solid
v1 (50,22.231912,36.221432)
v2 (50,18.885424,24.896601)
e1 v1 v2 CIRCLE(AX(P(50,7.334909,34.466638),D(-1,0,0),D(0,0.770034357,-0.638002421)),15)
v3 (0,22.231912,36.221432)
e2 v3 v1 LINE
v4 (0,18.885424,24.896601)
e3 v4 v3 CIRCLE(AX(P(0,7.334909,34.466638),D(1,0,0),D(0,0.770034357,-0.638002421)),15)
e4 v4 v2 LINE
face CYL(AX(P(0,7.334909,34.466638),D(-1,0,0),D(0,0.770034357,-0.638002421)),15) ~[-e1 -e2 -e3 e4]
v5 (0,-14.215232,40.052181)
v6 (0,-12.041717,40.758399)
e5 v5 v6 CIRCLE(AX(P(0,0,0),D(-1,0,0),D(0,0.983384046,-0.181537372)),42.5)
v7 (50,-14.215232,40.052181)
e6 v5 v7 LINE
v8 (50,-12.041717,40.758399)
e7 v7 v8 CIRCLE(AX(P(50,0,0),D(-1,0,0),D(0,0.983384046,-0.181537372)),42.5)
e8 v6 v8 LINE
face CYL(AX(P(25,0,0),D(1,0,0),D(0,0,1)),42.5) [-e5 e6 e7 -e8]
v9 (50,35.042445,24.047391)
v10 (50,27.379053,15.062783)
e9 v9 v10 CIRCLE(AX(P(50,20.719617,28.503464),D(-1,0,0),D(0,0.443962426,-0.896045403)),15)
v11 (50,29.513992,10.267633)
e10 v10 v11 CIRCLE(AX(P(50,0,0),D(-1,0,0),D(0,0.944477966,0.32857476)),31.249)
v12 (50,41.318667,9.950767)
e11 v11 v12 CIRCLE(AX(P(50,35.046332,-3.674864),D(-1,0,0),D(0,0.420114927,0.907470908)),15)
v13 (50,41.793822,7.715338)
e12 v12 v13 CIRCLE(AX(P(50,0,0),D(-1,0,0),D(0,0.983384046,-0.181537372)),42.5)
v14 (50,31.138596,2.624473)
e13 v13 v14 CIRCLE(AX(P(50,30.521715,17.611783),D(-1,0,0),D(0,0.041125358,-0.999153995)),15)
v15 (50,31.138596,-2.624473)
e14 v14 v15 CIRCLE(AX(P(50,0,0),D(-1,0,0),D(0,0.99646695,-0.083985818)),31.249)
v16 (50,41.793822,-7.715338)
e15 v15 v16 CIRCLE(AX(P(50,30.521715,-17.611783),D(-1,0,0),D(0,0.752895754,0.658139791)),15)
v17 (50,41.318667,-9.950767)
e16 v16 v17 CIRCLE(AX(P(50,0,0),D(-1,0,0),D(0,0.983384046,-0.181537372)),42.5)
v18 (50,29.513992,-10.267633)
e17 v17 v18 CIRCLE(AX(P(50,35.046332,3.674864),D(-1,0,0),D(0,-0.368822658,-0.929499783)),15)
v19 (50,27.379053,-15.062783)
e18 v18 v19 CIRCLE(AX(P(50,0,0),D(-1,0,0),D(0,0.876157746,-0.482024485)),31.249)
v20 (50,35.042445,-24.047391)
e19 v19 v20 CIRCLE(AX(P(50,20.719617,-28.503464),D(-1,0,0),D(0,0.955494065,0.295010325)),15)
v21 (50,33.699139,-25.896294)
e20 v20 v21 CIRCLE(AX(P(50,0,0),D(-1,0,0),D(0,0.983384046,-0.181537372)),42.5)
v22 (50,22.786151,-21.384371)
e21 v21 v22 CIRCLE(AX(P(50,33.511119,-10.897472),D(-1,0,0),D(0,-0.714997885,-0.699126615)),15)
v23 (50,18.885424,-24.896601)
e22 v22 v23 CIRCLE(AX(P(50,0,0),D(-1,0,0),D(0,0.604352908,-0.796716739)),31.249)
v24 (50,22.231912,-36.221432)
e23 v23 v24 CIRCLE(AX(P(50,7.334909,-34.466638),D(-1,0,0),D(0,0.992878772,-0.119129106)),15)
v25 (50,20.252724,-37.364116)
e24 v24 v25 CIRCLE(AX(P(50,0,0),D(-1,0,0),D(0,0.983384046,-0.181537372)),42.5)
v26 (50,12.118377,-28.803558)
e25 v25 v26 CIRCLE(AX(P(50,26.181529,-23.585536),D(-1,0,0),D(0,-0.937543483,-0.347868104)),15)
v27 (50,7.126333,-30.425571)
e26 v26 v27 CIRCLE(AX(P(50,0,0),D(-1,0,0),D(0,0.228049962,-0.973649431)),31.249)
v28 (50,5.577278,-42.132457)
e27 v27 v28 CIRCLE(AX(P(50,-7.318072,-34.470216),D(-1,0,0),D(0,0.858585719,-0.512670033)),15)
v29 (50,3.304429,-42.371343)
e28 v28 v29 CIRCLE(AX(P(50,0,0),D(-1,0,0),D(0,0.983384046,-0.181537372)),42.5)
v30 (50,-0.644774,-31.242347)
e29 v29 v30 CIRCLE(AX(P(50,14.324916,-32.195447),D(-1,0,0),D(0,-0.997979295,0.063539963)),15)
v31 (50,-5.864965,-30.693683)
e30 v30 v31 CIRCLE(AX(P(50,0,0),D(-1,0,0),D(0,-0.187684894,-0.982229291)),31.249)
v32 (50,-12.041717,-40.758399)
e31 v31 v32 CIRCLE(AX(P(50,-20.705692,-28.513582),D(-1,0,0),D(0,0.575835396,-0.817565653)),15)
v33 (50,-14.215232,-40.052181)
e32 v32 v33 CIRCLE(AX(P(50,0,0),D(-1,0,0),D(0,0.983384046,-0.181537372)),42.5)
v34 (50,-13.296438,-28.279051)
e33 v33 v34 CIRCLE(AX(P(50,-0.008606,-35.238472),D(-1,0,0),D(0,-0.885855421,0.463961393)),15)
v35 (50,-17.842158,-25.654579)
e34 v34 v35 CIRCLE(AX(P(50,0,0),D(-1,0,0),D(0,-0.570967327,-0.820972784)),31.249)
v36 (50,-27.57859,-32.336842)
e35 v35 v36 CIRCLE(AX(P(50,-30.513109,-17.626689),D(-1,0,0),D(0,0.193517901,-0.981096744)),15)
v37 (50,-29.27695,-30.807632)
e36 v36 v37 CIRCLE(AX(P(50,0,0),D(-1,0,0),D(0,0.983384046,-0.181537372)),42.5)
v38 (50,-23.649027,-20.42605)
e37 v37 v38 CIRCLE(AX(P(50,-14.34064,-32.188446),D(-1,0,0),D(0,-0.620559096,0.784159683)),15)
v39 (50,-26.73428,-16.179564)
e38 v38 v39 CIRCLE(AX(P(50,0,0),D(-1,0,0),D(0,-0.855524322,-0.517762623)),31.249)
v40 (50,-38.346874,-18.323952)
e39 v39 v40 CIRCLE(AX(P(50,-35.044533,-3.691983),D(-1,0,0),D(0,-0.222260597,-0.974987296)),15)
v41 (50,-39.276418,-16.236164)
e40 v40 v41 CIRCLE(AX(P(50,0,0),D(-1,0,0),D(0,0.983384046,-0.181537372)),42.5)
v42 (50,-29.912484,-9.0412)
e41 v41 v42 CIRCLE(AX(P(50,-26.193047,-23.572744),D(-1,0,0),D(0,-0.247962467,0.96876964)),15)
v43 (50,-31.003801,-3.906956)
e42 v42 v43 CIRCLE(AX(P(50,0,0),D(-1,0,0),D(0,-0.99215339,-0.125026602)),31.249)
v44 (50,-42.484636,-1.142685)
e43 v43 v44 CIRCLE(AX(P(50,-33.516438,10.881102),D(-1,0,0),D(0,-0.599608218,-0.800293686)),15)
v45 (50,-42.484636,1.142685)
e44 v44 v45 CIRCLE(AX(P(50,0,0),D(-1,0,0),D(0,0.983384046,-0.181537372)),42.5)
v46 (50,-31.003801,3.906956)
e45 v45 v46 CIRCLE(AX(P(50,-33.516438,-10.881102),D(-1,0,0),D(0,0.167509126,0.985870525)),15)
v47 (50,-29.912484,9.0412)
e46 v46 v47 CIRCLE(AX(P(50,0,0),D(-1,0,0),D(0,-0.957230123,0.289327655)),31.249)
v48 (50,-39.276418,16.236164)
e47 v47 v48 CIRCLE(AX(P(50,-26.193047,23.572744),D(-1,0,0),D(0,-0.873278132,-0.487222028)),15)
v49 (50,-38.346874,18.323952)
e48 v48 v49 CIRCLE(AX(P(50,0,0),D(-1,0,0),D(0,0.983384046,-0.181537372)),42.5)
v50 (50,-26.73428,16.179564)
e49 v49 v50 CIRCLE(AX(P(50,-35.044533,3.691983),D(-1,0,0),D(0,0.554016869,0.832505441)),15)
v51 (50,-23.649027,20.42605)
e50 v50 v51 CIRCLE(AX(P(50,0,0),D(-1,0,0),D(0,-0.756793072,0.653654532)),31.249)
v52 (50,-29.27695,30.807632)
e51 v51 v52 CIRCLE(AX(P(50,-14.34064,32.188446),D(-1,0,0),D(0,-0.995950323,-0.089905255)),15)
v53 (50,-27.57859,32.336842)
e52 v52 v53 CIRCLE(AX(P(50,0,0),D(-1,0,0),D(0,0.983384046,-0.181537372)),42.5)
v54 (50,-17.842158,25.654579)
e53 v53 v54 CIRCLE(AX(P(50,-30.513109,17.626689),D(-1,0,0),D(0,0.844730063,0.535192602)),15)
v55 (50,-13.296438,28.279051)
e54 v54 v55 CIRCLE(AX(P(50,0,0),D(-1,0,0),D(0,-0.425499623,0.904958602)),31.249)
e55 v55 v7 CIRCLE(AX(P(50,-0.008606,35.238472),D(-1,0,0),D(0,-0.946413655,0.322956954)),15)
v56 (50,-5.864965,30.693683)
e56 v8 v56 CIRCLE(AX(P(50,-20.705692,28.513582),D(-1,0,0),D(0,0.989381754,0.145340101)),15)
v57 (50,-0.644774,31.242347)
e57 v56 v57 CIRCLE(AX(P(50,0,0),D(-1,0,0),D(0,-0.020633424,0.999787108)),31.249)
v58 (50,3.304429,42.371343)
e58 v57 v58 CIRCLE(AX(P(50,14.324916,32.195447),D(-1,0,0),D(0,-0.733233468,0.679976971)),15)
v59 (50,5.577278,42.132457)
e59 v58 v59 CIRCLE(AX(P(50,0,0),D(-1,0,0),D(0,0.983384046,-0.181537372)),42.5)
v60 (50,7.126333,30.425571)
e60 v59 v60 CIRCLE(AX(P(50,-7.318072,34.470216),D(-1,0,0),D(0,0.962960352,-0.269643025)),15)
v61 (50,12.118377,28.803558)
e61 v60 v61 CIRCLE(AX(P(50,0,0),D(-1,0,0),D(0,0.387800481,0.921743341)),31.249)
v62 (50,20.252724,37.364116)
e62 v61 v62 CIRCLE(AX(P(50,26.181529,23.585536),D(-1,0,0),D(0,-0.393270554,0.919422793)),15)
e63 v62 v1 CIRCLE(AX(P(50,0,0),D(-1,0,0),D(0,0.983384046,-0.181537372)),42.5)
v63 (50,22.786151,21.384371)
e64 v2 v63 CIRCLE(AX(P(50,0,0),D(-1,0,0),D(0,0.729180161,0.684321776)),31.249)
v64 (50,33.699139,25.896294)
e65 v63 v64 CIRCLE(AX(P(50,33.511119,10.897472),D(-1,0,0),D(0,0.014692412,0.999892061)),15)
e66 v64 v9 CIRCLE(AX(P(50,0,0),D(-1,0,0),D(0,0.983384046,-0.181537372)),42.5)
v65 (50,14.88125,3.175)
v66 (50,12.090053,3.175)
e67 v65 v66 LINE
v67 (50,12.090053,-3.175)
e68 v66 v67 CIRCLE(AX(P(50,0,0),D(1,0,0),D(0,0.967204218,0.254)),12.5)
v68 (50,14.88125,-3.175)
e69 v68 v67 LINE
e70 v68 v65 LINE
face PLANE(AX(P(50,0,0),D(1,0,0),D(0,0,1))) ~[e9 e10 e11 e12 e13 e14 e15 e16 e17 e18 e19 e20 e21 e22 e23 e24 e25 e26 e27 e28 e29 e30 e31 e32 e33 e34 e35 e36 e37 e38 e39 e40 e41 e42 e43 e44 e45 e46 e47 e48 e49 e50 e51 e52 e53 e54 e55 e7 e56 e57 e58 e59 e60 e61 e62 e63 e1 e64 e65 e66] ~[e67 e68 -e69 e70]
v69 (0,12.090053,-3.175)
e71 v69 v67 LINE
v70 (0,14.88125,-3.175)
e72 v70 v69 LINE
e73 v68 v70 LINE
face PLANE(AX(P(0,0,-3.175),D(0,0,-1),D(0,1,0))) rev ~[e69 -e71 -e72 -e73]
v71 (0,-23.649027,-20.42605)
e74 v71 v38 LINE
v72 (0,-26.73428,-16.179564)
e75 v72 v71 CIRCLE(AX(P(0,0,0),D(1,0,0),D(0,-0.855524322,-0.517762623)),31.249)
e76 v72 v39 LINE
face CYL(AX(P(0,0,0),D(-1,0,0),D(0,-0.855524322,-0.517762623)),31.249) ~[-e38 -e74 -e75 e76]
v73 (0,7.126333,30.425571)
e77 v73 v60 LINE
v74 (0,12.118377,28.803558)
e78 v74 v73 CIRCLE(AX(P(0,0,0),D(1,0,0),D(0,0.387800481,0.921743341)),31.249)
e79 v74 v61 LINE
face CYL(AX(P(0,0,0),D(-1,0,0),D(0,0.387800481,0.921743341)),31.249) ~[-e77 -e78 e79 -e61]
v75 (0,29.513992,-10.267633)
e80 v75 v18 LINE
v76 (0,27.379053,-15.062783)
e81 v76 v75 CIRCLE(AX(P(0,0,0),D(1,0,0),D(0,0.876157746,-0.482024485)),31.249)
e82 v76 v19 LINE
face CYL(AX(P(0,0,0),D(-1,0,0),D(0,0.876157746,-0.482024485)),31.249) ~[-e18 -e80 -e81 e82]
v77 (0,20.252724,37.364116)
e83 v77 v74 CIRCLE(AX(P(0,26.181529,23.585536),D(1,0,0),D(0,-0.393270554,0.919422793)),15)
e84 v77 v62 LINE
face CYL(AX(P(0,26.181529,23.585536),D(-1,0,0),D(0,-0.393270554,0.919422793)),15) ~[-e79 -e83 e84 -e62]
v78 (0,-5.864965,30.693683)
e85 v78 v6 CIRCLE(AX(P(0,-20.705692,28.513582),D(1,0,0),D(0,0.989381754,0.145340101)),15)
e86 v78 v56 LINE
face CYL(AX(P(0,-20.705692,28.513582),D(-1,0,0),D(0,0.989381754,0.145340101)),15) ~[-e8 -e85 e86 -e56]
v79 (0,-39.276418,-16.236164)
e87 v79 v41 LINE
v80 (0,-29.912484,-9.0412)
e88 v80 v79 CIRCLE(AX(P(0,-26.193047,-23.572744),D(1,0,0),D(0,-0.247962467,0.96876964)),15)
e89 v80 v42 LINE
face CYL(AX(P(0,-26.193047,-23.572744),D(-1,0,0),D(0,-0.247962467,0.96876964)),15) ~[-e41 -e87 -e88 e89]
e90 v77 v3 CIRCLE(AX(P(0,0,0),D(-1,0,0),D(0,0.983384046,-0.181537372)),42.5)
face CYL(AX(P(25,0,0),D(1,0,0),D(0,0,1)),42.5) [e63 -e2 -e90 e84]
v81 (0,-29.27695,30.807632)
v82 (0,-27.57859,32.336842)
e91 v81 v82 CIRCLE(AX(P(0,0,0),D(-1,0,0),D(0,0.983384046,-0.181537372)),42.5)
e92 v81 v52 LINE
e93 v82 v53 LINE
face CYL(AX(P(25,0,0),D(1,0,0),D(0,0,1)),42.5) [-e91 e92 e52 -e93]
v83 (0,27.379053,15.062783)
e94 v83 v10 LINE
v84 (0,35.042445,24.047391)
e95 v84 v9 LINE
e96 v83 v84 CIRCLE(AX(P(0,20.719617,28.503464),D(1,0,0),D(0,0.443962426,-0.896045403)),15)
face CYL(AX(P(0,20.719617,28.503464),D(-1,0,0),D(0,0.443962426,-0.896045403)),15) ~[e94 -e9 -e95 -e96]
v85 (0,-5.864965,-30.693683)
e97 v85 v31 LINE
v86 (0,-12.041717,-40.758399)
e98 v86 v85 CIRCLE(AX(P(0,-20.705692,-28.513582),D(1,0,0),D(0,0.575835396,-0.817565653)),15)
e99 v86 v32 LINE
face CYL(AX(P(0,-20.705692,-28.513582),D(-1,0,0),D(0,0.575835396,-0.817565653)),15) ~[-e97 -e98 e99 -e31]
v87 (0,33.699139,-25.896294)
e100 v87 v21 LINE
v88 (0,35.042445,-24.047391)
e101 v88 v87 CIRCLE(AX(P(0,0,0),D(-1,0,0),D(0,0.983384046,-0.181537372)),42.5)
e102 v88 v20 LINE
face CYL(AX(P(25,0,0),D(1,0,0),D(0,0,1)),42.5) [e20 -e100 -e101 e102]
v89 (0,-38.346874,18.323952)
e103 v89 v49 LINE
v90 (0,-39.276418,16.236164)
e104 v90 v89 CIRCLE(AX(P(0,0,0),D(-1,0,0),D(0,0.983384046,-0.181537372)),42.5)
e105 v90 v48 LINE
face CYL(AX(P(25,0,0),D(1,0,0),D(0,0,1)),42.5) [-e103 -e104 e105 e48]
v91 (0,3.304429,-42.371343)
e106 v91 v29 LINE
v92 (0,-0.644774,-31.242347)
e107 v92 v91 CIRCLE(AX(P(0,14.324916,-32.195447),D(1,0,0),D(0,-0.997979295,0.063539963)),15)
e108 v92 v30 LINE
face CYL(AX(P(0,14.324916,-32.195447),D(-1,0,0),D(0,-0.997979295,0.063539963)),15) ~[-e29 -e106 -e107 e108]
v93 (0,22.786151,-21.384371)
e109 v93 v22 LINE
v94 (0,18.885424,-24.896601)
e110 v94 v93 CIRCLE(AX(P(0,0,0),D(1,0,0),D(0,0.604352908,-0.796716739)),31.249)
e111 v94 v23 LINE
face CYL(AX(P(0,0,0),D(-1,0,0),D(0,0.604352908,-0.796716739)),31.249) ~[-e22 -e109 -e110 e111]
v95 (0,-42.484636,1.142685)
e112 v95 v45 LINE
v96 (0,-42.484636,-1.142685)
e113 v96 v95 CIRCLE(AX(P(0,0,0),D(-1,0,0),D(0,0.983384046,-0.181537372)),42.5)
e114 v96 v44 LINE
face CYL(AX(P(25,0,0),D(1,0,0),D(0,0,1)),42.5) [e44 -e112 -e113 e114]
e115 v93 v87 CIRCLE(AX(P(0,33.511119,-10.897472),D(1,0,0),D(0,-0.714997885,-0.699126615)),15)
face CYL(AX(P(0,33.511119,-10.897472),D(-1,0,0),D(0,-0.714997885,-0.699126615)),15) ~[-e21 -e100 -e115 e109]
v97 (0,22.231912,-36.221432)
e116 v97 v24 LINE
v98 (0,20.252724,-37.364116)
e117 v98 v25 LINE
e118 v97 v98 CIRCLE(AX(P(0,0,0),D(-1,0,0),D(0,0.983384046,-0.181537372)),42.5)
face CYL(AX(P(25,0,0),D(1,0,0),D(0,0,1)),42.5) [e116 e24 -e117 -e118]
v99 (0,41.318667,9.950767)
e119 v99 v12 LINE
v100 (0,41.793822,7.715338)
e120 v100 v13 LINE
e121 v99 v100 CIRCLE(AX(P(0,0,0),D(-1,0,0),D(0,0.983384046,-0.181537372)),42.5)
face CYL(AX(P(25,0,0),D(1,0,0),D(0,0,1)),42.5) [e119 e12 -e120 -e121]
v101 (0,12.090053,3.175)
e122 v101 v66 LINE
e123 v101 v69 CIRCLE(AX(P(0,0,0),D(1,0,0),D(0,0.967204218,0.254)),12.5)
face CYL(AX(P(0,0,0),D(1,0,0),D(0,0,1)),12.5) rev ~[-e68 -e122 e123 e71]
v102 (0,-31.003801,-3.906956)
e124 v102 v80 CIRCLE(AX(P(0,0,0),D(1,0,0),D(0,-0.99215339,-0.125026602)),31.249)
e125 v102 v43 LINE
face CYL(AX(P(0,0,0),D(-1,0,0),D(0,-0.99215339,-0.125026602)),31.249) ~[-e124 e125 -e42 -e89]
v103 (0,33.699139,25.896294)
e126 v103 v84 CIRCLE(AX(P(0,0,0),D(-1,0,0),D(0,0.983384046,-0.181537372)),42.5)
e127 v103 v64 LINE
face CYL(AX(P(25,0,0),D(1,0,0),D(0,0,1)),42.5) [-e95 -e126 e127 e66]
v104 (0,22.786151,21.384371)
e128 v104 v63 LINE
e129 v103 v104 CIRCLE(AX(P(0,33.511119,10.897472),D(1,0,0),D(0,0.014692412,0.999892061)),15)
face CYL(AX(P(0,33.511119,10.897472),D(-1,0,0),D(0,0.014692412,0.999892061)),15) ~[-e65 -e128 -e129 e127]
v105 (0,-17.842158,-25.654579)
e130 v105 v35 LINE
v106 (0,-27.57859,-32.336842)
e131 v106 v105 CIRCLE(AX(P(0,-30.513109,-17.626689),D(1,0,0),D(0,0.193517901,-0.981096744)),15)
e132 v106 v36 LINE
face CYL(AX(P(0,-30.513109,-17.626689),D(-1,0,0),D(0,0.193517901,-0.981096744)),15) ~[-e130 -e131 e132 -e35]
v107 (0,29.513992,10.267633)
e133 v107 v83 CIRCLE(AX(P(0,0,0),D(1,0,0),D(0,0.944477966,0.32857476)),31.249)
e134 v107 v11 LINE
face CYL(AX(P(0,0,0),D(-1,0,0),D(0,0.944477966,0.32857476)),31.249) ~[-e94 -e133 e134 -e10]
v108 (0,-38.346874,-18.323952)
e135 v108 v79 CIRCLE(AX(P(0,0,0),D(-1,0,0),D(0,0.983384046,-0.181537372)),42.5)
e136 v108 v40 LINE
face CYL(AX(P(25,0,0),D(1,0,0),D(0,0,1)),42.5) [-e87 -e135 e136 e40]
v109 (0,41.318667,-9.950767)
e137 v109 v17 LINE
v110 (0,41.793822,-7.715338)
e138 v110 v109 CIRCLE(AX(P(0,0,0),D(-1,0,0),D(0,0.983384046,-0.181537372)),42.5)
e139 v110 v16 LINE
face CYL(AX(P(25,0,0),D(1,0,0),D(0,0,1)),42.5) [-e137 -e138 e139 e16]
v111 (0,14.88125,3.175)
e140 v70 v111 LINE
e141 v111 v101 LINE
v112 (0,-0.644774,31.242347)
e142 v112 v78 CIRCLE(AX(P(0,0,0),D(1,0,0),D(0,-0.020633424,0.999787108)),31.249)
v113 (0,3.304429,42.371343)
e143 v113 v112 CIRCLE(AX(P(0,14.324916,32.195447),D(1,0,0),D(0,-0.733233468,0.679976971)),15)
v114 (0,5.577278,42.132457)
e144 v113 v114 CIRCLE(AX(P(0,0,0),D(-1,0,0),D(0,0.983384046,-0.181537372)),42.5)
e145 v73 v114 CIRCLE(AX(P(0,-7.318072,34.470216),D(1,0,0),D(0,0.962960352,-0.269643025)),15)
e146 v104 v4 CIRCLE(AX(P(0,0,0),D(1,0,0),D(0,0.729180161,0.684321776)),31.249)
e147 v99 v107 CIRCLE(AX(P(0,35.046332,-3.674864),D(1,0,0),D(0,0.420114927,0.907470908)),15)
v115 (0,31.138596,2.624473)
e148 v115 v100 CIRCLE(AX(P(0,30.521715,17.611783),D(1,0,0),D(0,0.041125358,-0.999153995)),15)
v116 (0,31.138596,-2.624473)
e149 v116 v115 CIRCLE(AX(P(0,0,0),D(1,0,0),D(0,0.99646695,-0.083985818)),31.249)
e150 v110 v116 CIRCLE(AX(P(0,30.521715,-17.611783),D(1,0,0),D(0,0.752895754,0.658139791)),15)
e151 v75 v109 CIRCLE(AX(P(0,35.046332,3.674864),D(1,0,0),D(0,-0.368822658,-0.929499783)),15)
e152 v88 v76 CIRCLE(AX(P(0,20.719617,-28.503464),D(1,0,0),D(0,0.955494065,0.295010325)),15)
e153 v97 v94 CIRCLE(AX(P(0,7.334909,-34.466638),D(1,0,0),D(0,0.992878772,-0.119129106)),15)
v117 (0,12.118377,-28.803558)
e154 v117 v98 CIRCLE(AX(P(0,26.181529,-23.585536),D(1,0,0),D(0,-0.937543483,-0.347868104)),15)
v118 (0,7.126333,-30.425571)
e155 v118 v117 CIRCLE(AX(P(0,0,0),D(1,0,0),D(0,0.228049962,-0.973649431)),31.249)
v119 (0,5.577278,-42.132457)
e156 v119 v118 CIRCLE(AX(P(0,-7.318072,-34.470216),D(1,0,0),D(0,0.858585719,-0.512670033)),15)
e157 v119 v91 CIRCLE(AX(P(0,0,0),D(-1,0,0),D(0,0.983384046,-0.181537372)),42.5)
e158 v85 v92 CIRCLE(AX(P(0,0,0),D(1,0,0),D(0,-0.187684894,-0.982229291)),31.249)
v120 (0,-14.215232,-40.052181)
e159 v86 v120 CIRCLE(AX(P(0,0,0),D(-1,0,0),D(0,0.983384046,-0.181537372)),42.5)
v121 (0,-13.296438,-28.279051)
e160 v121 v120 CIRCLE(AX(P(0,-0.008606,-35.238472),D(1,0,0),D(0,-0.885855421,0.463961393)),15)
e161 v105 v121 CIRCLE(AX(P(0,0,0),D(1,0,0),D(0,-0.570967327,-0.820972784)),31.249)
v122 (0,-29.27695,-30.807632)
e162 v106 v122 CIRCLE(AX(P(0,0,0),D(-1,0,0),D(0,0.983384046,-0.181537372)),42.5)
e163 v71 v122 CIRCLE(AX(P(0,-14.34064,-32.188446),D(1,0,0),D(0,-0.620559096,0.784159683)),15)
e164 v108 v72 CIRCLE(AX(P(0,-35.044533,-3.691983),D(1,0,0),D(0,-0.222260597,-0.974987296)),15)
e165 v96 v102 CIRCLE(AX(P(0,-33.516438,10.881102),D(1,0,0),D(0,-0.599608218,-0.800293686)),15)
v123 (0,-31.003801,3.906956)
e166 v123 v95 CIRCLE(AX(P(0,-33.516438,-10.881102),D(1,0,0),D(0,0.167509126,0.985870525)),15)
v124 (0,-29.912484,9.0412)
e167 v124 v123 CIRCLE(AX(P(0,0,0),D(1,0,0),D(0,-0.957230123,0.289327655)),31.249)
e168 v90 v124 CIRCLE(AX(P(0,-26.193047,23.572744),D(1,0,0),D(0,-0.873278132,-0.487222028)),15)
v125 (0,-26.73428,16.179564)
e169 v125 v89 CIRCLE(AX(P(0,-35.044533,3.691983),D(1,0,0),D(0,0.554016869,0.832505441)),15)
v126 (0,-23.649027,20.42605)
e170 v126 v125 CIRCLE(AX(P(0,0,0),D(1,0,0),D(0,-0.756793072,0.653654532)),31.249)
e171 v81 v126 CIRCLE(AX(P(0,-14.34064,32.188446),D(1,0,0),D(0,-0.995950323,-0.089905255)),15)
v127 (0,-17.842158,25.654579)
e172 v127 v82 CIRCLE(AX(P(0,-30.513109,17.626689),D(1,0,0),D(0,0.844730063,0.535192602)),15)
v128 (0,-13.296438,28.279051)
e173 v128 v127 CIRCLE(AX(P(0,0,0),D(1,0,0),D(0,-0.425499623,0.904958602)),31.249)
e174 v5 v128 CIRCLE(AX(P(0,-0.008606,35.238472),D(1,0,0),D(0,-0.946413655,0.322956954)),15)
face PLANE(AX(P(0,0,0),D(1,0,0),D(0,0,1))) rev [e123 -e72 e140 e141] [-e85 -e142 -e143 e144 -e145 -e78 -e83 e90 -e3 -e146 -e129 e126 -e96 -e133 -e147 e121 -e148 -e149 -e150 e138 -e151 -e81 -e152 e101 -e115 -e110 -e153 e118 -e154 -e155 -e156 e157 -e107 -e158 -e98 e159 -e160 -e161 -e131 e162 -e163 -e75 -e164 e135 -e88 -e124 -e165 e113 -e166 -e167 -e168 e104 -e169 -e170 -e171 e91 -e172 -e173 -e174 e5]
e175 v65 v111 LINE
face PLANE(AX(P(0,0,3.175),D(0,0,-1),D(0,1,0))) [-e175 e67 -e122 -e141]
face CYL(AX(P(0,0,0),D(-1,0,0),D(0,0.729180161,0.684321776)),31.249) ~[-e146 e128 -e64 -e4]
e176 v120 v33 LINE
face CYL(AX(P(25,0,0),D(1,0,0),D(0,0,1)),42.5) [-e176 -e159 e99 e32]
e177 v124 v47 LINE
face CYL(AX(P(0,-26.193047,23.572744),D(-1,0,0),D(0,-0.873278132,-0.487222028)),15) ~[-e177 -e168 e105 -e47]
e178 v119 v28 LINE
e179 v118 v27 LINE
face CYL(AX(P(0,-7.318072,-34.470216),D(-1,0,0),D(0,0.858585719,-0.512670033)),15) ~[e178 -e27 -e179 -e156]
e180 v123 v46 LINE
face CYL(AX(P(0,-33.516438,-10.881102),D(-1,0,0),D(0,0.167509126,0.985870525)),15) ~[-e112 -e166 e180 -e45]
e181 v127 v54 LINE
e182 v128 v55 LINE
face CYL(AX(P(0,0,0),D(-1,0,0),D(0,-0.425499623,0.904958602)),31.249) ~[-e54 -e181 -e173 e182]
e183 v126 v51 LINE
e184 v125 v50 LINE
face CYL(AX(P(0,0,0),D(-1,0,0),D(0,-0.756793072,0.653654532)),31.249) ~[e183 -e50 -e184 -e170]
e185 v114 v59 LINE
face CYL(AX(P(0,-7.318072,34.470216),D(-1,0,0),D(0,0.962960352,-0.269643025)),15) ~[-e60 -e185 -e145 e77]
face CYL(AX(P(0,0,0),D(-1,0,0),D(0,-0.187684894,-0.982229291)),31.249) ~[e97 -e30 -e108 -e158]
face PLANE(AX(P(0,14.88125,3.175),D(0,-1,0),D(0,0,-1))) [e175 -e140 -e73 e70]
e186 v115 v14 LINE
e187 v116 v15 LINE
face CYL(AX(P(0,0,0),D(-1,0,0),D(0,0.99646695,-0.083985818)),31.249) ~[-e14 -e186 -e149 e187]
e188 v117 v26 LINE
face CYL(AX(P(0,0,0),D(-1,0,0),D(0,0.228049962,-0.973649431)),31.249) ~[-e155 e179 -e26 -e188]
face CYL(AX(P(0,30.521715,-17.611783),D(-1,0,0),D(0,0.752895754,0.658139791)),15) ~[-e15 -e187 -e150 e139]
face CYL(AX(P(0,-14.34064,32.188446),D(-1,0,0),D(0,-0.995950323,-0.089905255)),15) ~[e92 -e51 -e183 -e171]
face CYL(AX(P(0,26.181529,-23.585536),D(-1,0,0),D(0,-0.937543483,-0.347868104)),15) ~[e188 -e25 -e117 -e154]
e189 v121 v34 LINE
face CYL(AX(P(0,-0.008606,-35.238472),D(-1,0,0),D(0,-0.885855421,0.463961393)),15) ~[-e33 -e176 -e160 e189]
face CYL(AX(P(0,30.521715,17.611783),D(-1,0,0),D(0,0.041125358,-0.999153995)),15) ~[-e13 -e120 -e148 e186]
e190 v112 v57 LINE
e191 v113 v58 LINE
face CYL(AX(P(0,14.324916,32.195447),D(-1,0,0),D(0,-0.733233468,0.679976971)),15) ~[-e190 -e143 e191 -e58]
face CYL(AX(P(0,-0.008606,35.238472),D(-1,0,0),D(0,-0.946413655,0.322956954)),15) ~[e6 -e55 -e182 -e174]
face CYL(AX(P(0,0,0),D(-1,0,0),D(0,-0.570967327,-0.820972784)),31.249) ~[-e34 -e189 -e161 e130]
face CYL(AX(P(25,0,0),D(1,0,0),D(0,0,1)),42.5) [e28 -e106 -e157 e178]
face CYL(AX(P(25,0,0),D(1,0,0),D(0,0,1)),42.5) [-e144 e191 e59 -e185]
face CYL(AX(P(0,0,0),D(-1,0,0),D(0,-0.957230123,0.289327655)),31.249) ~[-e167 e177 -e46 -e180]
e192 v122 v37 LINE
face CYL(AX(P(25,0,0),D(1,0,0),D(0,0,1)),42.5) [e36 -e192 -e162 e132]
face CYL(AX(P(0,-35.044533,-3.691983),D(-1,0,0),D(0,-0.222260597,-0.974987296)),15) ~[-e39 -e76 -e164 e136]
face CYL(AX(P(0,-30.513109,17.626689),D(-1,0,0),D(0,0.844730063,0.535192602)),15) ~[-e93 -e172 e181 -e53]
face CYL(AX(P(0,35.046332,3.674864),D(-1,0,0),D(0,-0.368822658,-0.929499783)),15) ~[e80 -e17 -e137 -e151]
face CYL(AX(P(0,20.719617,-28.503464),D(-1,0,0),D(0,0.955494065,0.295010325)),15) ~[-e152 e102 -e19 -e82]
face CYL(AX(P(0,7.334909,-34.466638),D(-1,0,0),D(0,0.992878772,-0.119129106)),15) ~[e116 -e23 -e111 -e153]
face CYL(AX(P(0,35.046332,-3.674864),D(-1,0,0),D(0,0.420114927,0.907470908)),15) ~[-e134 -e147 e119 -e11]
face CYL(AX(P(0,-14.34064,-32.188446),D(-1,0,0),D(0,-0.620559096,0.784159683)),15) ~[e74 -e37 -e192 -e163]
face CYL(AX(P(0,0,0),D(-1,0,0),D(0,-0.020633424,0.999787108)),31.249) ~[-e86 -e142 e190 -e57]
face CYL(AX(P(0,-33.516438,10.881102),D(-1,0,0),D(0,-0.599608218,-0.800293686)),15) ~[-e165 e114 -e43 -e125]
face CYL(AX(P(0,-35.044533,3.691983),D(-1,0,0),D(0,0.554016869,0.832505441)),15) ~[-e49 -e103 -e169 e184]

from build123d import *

# Parameters (mm, degrees)
BASPROSKE_W     = 50
BASPROSKE_H     = 42.5
TOOTHCUT_DEPTH  = 79.182478856
TEETHCUTS_COUNT = 15
TEETHCUTS_ANGLE = 336
BORSKE_R        = 12.5
BORE_DEPTH      = 50.0000508
KEYSKE_W        = 6.35
KEYSKE_H        = 14.88125
KEYWAY_DEPTH    = 50.0000508


with BuildPart() as part:
    # BasProSke → Base-Revolve (revolve)
    with BuildSketch(Plane(origin=(0, 0, 0), x_dir=(1, 0, 0), z_dir=(0, 1, 0)), mode=Mode.PRIVATE) as base_revolve_sk:
        with Locations((25, 21.25)):
            Rectangle(BASPROSKE_W, BASPROSKE_H)
    revolve(base_revolve_sk.sketch.rotate(Axis((-10, 0, 0), (1, 0, 0)), 180), axis=Axis((-10, 0, 0), (1, 0, 0)))

    # TooCutSke → ToothCut (cut, through all)
    with BuildSketch(Plane(origin=(0, 0, 0), x_dir=(0, 0, -1), z_dir=(1, 0, 0))):
        with BuildLine():
            ThreePointArc((2.624472836, 31.138595719), (0, 31.249), (-2.624472836, 31.138595719))
            ThreePointArc((-2.624472836, 31.138595719), (-4.084227986, 37.002862003), (-7.739685892, 41.815151649))
            ThreePointArc((-7.739685892, 41.815151649), (0, 42.5254), (7.739685892, 41.815151649))
            ThreePointArc((7.739685892, 41.815151649), (4.084227986, 37.002862003), (2.624472836, 31.138595719))
        make_face()
    toothcut = extrude(amount=TOOTHCUT_DEPTH, mode=Mode.SUBTRACT)

    # TeethCuts: ToothCut ×15 about axis
    teethcuts_axis = Axis((-10, 0, 0), (1, 0, 0))
    for i in range(1, TEETHCUTS_COUNT):
        add(toothcut.rotate(teethcuts_axis, i * TEETHCUTS_ANGLE / (TEETHCUTS_COUNT - 1)), mode=Mode.SUBTRACT)

    # BorSke → Bore (cut, symmetric)
    with BuildSketch(Plane(origin=(0, 0, 0), x_dir=(0, 0, -1), z_dir=(1, 0, 0))):
        with Locations(Location((0, 0, 0), (0, 0, 180))):
            Circle(BORSKE_R)
    extrude(amount=BORE_DEPTH, both=True, mode=Mode.SUBTRACT)

    # KeySke → Keyway (cut, symmetric)
    with BuildSketch(Plane(origin=(0, 0, 0), x_dir=(0, 0, -1), z_dir=(1, 0, 0))):
        with Locations((0, 7.440625)):
            Rectangle(KEYSKE_W, KEYSKE_H)
    extrude(amount=KEYWAY_DEPTH, both=True, mode=Mode.SUBTRACT)


solid = part.part
